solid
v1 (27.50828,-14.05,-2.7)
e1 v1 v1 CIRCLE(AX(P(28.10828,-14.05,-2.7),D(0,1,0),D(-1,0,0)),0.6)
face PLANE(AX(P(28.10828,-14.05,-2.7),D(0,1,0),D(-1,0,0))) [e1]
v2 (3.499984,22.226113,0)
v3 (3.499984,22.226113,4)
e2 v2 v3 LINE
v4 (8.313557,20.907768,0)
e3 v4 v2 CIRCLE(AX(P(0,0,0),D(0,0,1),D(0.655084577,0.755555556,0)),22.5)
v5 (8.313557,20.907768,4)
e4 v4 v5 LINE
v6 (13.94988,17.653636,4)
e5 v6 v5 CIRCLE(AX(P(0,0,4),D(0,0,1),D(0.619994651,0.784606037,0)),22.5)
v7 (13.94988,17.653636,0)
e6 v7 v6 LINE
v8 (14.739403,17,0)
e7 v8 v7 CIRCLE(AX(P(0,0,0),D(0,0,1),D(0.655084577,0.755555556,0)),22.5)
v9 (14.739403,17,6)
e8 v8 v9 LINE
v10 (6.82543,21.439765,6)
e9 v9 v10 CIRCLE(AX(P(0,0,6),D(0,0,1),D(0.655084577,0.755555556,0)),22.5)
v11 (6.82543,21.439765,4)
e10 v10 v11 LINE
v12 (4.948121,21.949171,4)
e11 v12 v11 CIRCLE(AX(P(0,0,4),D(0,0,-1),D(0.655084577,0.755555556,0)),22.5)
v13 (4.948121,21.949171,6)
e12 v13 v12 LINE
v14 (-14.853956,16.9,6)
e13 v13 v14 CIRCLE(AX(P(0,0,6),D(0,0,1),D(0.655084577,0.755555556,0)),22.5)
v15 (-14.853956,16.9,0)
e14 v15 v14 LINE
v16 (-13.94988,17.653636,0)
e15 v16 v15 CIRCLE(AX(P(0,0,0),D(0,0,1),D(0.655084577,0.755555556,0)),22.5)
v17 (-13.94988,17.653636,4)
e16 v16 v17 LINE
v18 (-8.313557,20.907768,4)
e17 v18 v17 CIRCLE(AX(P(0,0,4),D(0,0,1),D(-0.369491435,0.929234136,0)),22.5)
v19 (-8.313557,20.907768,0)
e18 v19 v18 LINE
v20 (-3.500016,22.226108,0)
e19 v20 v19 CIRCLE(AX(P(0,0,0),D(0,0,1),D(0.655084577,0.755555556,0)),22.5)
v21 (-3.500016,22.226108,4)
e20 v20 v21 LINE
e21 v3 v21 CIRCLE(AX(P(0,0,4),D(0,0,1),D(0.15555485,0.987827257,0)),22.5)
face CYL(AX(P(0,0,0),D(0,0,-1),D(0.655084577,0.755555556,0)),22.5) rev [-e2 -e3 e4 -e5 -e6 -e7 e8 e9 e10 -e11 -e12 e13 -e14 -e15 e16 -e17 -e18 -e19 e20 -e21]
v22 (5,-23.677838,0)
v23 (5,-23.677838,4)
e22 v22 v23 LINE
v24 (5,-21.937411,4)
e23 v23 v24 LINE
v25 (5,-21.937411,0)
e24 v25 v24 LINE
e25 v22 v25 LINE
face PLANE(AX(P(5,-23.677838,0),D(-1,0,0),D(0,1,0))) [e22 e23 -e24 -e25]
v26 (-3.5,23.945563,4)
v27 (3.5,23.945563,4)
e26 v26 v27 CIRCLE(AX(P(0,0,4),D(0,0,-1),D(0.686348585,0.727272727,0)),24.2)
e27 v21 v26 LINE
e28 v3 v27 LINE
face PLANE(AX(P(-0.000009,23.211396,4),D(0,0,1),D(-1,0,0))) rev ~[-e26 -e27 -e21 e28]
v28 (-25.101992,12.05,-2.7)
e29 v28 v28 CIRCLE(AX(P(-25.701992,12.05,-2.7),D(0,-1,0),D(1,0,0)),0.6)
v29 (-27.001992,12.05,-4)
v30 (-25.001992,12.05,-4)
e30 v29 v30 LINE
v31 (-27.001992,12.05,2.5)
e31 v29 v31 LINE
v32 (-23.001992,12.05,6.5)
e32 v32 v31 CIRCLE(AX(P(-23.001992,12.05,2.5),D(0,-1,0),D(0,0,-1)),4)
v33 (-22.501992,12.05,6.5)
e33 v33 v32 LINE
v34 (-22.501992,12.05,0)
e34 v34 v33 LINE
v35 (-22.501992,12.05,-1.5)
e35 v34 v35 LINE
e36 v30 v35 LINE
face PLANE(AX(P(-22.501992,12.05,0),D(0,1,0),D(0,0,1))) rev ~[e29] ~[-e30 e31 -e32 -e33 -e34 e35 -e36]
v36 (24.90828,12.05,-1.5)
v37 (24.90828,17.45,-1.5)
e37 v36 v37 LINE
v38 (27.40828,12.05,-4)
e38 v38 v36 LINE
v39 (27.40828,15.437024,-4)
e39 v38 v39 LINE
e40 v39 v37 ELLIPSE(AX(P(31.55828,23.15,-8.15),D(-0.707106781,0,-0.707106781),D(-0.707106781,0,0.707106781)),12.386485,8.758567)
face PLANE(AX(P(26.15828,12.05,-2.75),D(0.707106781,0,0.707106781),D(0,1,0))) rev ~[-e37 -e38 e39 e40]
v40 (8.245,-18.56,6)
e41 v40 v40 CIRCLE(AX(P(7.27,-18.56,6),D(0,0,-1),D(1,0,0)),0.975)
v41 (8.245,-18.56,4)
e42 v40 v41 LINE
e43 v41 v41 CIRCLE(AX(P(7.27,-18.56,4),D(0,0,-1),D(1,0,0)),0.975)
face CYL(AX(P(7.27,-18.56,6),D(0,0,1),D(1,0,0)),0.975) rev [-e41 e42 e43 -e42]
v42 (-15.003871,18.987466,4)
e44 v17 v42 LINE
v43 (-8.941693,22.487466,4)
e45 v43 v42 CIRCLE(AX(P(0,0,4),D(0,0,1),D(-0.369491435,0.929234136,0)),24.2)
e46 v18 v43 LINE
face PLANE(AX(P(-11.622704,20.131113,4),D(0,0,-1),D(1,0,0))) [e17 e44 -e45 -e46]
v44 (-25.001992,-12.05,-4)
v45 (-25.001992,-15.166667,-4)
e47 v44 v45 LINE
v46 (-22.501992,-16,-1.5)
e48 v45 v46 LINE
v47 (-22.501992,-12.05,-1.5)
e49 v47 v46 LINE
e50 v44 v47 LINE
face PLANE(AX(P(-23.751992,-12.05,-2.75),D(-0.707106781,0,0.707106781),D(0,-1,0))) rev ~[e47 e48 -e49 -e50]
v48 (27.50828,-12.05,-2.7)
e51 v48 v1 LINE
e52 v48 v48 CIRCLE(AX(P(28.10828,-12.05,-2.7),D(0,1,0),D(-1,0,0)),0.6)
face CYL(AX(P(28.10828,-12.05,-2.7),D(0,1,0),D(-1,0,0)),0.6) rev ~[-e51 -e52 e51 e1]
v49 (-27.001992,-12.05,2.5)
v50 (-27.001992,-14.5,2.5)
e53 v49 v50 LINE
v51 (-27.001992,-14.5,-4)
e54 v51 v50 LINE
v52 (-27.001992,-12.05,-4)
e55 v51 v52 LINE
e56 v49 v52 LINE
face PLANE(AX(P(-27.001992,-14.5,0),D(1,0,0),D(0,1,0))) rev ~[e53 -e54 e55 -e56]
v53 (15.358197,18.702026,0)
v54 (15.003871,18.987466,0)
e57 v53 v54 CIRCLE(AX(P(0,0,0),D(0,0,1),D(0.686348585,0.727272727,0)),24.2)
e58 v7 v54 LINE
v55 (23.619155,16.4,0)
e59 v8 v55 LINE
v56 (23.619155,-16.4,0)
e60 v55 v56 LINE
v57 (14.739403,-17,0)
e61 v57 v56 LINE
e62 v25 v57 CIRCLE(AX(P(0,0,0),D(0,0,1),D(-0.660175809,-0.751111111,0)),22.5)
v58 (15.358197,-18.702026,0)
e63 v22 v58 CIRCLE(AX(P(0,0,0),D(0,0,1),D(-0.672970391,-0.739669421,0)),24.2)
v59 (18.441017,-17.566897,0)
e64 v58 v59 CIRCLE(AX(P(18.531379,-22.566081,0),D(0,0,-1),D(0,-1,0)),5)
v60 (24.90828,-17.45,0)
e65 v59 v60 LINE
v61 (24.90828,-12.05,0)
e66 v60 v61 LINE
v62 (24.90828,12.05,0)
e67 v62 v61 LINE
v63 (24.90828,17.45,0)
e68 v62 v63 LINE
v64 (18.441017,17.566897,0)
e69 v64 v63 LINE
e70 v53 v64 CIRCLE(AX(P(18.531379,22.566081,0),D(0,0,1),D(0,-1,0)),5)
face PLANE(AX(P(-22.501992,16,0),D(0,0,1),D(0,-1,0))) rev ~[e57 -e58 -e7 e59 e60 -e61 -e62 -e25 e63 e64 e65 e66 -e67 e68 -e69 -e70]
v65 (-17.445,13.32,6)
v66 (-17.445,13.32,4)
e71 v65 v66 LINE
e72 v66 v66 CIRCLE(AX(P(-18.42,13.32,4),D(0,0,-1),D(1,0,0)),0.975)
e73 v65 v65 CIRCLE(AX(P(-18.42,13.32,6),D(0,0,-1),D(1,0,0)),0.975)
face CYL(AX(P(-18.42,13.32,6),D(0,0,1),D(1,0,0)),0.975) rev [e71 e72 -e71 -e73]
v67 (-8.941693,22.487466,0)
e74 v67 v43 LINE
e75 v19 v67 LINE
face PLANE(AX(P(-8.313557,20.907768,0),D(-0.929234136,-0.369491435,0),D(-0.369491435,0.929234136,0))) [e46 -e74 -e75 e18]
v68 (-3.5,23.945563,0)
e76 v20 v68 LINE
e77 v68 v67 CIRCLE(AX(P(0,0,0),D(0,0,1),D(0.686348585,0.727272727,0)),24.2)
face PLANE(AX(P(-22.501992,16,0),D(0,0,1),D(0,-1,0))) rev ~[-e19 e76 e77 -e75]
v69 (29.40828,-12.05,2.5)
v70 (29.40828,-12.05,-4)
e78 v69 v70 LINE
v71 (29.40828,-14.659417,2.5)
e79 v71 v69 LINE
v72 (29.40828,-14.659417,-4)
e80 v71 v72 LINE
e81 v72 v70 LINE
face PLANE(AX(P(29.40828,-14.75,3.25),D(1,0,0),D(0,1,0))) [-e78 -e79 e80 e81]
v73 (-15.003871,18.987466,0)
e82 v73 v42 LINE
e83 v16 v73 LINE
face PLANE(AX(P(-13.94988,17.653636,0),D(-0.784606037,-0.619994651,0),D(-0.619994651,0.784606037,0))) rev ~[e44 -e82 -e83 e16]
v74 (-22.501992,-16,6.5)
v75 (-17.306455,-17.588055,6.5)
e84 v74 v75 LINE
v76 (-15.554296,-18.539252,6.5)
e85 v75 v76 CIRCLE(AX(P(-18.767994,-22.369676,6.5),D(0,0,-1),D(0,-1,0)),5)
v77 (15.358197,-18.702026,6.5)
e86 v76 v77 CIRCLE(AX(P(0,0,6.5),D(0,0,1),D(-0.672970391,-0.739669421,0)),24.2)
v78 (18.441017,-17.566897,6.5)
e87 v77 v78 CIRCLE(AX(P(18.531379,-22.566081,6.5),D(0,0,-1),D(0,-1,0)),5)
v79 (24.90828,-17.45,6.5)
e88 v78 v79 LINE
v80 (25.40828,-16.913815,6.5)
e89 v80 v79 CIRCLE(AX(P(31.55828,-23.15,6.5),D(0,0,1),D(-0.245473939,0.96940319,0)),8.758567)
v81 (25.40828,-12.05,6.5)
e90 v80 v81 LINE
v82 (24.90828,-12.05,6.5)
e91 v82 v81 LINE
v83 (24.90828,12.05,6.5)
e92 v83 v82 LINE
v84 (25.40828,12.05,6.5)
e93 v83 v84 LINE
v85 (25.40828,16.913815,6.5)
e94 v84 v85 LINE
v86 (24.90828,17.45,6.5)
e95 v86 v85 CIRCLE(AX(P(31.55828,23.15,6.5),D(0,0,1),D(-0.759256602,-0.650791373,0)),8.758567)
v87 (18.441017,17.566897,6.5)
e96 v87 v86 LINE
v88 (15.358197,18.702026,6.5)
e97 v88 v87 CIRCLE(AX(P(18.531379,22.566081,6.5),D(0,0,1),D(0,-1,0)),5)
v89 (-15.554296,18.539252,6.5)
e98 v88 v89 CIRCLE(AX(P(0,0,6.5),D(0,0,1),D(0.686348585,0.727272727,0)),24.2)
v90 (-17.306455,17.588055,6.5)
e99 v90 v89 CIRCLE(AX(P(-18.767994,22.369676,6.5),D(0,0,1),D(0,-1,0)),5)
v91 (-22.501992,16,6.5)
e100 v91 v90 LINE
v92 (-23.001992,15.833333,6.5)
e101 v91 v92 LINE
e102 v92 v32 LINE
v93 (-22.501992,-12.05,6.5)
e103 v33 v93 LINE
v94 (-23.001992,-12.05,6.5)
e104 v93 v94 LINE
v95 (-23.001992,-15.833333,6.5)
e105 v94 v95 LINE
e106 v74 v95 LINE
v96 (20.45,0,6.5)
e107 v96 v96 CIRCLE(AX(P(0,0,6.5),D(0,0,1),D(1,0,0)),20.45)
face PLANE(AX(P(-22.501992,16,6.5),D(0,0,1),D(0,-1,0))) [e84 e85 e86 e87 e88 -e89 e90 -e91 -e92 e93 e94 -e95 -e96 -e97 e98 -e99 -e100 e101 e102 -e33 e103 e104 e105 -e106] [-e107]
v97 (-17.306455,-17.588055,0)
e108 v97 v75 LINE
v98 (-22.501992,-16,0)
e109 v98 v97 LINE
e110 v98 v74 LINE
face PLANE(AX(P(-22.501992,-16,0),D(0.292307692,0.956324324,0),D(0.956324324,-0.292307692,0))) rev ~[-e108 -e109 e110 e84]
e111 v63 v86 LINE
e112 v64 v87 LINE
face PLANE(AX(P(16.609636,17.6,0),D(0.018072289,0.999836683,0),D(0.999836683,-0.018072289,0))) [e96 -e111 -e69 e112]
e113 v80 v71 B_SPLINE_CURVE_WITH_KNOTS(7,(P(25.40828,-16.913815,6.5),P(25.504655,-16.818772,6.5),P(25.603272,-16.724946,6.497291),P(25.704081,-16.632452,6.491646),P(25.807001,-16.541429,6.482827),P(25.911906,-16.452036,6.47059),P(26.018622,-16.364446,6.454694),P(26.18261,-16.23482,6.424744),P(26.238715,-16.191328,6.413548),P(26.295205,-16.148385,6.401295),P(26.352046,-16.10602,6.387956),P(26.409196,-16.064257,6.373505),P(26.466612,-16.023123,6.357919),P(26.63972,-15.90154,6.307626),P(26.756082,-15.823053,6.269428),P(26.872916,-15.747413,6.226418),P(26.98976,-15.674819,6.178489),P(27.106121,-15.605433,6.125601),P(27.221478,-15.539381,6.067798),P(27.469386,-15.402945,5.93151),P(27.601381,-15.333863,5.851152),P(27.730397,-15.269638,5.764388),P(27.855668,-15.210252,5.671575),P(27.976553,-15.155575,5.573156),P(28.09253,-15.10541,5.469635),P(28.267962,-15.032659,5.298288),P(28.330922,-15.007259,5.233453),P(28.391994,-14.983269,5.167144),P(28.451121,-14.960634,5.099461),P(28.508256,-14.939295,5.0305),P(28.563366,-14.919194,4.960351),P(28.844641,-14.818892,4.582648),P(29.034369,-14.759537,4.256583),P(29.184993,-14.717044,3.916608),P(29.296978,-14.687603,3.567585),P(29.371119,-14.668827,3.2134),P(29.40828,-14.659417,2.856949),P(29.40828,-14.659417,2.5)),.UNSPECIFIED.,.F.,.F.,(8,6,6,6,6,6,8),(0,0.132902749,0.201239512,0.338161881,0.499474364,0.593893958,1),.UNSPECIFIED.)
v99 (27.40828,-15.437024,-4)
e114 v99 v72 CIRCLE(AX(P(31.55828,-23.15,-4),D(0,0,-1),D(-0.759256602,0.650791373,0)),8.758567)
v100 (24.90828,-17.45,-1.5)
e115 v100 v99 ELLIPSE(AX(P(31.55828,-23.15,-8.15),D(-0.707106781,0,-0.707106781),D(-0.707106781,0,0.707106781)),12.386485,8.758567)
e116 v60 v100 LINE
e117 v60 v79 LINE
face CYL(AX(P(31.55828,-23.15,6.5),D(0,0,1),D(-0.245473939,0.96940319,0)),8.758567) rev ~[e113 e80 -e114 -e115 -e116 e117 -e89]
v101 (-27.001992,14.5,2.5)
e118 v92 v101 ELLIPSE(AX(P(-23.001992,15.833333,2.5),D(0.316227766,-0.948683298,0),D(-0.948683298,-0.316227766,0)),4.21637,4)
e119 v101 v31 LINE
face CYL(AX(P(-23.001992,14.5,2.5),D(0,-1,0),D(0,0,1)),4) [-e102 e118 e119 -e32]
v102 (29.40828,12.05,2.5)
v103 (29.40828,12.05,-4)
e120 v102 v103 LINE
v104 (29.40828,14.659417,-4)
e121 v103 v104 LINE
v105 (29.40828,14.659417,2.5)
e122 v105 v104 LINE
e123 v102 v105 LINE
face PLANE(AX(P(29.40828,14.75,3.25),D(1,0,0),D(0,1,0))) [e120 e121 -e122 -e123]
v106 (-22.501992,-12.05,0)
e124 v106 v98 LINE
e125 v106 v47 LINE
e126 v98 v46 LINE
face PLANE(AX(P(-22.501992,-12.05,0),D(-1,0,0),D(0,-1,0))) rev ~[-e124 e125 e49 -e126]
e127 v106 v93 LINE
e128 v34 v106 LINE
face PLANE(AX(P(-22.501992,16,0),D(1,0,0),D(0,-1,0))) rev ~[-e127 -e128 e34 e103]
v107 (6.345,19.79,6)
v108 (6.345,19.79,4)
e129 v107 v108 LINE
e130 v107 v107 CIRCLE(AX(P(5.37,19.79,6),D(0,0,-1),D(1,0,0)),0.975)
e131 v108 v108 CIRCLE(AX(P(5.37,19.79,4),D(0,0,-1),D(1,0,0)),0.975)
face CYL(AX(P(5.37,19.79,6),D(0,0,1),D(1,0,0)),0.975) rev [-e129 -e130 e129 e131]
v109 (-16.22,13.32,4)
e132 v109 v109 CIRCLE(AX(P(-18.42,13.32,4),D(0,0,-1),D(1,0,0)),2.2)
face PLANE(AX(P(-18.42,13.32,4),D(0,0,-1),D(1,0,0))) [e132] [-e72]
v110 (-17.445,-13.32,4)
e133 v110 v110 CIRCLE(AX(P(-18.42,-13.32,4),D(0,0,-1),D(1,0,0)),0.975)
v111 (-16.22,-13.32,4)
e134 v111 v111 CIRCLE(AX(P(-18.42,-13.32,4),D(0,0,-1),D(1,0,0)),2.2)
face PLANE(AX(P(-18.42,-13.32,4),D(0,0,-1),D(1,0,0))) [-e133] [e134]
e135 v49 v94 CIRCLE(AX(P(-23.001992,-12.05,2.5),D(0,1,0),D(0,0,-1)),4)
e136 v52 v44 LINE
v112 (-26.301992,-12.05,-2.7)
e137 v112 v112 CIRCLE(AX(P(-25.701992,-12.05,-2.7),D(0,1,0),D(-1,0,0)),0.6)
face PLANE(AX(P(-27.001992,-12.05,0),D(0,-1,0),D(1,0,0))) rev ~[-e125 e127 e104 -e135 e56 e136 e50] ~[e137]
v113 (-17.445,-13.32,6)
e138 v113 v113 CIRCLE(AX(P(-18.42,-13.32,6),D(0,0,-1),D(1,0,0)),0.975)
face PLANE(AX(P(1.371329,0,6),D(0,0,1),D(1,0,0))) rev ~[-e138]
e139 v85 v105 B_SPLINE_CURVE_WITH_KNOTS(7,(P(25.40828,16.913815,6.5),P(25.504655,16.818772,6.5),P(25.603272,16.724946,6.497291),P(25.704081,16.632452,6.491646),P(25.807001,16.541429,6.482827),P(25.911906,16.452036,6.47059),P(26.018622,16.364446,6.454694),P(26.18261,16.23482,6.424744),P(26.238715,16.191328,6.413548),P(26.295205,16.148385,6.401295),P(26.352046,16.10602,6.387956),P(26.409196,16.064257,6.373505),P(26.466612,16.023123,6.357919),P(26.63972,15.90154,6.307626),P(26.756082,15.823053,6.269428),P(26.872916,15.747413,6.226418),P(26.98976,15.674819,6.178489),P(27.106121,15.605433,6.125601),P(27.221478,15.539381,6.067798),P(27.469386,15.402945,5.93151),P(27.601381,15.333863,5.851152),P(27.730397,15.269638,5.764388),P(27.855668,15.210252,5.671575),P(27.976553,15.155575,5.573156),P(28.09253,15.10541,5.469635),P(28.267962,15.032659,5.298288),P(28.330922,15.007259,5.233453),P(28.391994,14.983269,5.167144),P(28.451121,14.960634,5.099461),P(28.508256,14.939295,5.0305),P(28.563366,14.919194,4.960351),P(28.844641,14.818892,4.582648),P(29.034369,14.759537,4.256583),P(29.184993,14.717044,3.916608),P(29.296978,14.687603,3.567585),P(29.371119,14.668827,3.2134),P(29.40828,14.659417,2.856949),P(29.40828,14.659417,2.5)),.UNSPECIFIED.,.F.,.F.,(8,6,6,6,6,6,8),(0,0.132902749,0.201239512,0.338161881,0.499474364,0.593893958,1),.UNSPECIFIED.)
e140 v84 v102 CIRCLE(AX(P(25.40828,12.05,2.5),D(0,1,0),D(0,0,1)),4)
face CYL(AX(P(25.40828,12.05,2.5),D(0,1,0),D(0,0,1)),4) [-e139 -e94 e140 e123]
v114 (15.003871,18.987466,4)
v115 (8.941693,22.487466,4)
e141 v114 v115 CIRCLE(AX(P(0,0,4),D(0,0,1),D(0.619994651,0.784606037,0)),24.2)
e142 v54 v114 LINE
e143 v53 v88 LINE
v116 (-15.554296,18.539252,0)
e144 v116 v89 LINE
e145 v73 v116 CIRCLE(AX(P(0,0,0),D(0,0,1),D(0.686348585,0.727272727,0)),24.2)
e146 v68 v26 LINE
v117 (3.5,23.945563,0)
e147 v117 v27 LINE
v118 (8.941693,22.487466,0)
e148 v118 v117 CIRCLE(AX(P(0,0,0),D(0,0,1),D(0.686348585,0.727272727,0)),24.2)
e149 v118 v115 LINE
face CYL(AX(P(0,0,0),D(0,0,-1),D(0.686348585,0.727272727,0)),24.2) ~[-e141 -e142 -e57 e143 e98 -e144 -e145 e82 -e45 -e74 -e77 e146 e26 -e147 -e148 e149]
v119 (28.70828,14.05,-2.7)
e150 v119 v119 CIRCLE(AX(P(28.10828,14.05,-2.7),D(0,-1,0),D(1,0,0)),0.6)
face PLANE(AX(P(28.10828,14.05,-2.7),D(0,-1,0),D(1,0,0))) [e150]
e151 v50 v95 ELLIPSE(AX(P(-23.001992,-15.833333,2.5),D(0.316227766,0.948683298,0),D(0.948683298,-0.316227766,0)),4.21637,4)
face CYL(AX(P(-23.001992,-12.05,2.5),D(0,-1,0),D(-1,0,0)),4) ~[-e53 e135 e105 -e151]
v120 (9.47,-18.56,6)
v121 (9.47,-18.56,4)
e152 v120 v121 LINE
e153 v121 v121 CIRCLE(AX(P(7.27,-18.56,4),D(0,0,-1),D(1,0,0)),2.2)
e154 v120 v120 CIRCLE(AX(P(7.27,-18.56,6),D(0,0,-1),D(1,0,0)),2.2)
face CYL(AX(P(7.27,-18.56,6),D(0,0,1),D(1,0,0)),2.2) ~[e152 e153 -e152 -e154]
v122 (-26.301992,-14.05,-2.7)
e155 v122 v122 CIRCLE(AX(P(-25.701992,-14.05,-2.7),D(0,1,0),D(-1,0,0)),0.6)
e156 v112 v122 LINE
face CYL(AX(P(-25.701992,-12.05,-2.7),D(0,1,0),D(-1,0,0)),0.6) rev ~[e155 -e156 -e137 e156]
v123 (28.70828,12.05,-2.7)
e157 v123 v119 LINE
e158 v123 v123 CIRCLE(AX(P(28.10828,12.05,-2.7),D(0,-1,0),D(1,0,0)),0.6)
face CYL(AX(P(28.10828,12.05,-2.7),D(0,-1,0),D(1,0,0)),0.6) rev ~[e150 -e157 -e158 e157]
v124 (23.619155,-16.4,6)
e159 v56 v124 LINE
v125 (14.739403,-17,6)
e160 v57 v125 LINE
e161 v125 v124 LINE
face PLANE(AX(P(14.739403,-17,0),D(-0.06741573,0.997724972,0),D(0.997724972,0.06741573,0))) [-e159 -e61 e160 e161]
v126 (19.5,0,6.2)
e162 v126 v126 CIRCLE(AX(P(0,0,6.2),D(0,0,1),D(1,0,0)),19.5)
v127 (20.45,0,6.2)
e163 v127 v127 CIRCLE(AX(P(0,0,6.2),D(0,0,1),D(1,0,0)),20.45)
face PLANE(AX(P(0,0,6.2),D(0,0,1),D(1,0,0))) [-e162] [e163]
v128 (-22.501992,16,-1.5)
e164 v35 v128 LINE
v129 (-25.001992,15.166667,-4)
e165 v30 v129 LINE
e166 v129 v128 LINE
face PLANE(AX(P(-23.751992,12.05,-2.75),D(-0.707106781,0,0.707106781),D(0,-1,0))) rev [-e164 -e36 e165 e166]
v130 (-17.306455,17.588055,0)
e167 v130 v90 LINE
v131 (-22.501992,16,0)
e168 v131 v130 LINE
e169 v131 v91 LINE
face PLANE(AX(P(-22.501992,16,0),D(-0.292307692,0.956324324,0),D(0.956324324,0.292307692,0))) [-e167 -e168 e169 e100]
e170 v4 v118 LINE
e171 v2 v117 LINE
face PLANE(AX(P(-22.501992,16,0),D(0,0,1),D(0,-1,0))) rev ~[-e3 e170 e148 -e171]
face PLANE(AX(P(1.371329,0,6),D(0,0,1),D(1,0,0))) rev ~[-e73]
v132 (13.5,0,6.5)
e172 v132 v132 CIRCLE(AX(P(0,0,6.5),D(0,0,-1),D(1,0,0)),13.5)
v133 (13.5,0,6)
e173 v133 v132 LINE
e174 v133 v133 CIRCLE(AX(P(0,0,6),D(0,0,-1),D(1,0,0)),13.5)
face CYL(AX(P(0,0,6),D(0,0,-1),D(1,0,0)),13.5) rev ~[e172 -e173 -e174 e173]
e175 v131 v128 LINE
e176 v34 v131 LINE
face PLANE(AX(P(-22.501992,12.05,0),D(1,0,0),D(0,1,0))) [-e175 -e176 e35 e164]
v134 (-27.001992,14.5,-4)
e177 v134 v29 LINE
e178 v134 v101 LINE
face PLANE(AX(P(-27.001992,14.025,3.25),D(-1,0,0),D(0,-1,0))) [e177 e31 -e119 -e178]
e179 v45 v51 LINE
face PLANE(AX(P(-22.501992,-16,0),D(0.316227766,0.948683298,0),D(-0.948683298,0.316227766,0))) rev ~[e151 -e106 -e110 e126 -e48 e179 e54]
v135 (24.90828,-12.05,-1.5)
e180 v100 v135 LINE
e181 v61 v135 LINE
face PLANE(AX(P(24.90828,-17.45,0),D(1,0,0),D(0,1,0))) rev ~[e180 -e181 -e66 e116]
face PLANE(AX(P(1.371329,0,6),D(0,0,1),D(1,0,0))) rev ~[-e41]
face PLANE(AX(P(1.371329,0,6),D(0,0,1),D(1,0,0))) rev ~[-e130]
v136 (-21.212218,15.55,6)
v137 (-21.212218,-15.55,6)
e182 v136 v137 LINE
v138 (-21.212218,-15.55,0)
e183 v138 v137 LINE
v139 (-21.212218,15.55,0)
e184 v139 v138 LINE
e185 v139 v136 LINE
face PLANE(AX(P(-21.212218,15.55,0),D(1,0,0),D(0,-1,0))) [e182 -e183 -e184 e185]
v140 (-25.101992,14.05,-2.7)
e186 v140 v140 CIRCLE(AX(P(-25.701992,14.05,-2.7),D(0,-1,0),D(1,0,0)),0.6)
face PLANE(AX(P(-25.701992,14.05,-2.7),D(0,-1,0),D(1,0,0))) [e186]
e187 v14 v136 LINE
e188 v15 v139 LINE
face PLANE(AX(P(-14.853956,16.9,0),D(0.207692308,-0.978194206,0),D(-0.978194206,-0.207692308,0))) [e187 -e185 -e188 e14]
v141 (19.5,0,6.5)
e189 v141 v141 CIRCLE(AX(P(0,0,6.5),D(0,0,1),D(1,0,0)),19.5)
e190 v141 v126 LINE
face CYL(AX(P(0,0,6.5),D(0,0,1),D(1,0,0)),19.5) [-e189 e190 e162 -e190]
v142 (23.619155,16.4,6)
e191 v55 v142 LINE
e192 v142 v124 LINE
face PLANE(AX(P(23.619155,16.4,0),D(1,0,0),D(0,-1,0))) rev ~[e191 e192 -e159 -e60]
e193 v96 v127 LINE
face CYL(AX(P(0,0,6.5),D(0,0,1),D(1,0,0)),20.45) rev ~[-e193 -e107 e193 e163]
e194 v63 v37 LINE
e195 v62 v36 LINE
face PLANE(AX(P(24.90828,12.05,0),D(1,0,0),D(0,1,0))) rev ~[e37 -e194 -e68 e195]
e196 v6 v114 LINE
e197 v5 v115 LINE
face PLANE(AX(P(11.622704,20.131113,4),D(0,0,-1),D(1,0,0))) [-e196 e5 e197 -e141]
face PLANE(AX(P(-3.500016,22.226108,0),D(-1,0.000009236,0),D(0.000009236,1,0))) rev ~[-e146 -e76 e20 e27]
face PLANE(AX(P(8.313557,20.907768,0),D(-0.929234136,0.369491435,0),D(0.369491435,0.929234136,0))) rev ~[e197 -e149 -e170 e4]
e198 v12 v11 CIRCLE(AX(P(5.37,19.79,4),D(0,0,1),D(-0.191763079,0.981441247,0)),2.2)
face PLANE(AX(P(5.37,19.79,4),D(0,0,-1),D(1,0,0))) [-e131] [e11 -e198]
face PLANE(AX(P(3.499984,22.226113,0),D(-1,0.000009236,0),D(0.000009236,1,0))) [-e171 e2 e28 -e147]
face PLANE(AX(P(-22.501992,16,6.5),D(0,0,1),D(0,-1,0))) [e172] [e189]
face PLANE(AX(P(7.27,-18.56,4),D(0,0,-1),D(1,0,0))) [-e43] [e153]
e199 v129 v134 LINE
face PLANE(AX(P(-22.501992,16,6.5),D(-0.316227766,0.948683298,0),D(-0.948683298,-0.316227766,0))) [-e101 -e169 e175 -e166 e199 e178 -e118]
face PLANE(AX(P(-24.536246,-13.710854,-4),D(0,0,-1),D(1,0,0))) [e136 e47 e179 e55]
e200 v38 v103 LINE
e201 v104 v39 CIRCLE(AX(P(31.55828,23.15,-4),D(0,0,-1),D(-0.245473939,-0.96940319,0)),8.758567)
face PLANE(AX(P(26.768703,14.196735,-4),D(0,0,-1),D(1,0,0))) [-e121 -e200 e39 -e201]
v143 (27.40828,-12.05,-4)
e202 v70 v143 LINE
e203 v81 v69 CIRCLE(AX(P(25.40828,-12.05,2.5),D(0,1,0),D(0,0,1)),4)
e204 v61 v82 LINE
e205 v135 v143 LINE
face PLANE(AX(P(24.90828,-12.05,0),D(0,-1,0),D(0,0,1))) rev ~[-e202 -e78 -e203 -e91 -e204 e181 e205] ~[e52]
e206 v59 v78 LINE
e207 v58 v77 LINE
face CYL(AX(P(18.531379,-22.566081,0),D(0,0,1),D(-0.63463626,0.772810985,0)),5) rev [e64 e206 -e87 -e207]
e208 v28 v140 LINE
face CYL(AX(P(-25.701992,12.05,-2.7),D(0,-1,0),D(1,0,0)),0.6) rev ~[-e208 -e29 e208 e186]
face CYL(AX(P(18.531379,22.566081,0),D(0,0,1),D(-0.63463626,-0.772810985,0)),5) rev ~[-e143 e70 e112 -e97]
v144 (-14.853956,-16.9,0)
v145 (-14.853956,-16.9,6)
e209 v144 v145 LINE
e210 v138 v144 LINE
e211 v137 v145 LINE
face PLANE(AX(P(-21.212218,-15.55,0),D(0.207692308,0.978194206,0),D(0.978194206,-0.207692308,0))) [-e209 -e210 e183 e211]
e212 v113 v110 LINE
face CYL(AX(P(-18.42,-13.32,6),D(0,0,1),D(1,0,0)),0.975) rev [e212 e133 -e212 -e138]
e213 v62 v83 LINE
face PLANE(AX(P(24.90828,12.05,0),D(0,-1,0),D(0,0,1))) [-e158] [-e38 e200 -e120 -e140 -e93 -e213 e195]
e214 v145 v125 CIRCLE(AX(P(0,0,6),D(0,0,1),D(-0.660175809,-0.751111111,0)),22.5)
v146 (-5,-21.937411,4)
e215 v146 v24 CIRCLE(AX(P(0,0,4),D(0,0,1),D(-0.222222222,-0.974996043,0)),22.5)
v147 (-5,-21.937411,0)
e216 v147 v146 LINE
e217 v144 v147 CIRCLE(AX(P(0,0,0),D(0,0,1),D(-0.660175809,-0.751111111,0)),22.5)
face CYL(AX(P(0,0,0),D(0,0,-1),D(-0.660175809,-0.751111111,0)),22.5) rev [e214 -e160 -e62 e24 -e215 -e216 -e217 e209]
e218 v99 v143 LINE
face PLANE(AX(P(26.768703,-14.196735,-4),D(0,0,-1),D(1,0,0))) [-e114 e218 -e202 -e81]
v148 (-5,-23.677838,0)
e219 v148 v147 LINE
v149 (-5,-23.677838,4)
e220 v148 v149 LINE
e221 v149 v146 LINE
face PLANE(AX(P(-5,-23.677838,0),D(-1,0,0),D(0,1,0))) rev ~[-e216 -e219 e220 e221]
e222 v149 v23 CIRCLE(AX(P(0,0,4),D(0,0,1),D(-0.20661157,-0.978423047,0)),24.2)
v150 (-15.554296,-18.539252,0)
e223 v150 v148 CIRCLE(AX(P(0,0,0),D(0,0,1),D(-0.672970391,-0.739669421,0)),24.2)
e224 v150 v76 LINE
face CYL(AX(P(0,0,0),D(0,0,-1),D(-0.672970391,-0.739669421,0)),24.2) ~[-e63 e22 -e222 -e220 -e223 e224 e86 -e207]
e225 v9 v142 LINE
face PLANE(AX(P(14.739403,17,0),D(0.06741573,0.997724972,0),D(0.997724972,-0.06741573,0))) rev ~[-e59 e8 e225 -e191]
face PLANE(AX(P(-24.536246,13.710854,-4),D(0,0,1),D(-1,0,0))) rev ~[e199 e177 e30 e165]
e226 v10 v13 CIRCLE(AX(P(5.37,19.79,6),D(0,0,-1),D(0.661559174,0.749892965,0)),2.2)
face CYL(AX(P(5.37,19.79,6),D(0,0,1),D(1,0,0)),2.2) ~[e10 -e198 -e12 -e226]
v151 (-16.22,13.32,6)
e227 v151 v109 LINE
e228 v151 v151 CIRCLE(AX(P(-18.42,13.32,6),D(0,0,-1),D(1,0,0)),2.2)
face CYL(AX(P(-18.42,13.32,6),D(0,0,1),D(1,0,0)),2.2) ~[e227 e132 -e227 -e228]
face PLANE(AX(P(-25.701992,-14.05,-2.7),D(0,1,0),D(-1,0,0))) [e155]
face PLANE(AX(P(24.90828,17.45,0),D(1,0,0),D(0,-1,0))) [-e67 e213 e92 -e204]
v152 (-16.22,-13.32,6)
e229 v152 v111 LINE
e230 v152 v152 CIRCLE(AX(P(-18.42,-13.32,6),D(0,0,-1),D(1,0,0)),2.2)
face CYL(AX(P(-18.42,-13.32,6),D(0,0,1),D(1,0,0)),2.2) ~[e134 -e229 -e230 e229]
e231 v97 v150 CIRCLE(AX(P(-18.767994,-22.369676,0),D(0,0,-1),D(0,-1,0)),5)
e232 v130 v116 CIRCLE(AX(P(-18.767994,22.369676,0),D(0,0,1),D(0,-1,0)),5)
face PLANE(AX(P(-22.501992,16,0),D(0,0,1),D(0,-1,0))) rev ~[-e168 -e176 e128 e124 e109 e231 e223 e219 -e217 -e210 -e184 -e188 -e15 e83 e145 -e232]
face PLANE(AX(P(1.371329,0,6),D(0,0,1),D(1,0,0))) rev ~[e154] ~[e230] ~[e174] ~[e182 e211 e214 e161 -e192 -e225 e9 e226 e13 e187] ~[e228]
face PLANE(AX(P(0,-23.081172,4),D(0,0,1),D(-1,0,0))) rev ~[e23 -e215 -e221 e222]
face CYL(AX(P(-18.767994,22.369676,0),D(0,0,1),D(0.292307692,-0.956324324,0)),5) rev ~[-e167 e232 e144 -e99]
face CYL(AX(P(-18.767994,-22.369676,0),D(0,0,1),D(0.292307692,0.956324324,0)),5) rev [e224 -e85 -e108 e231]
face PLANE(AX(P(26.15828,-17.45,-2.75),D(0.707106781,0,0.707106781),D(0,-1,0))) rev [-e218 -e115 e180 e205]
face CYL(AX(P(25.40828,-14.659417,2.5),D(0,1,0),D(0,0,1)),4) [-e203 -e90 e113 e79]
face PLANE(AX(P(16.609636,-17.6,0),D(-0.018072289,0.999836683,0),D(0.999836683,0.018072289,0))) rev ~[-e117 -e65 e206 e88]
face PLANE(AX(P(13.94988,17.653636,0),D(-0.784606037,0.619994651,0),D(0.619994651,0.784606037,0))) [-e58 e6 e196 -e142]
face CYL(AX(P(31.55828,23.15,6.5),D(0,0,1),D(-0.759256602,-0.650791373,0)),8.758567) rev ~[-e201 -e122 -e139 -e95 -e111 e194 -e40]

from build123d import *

# Parameters (mm, degrees)
PAD_DEPTH       = 6.5
POCKET_DEPTH    = 6
SKETCH002_R     = 13.5
POCKET001_DEPTH = 1
SKETCH003_W     = 5.4
SKETCH003_H     = 6.5
PAD001_DEPTH    = 4.5
POCKET002_DEPTH = 10
SKETCH010_W     = 3.95
SKETCH010_H     = 6.5
PAD002_DEPTH    = 4.5
POCKET005_DEPTH = 10
SKETCH014_R     = 20.45
SKETCH014_R_2   = 19.5
POCKET008_DEPTH = 0.3
SKETCH015_R     = 2.2
SKETCH015_R_2   = 0.975
PAD003_DEPTH    = 2
POCKET009_DEPTH = 4
POCKET010_DEPTH = 4
PAD004_DEPTH    = 4
SKETCH019_R     = 0.6
POCKET011_DEPTH = 2
SKETCH020_R     = 0.6
POCKET012_DEPTH = 2
FILLET_R        = 4
CHAMFER_SIZE    = 2.5
FILLET001_R     = 5


with BuildPart() as part:
    # Sketch → Pad (new body)
    with BuildSketch(Plane.XY):
        with BuildLine():
            Line((-22.5019915649, 16), (-22.5019915649, -16))
            Line((-22.5019915649, -16), (-16.2858834577, -17.9000000001))
            ThreePointArc((-16.2858834577, -17.9000000001), (0.2206895737, -24.1989937004), (16.6096357576, -17.5999999999))
            Line((16.6096357576, -17.5999999999), (24.9082802252, -17.45))
            Line((24.9082802252, 17.45), (24.9082802252, -17.45))
            Line((16.6096357576, 17.6), (24.9082802252, 17.45))
            ThreePointArc((16.6096357576, 17.6), (0.2206895736, 24.1989937004), (-16.2858834578, 17.9))
            Line((-22.5019915649, 16), (-16.2858834578, 17.9))
        make_face()
    extrude(amount=PAD_DEPTH)

    # Sketch001 → Pocket (cut)
    with BuildSketch(Plane.XY):
        with BuildLine():
            Line((-14.8539557021, 16.9), (-21.2122180433, 15.55))
            Line((-21.2122180433, 15.55), (-21.2122180433, -15.55))
            Line((-21.2122180433, -15.55), (-14.8539557021, -16.9))
            ThreePointArc((-14.8539557021, -16.9), (-0.0760301383, -22.4998715423), (14.739402973, -17))
            Line((14.739402973, -17), (23.6191552218, -16.4))
            Line((23.6191552218, 16.4), (23.6191552218, -16.4))
            Line((14.739402973, 17), (23.6191552218, 16.4))
            ThreePointArc((14.739402973, 17), (-0.0760301383, 22.4998715423), (-14.8539557021, 16.9))
        make_face()
    extrude(amount=POCKET_DEPTH, mode=Mode.SUBTRACT)

    # Sketch002 (on Face19 of Pocket) → Pocket001 (cut)
    with BuildSketch(Plane(origin=(0, 0, 6), x_dir=(1, 0, 0), z_dir=(0, 0, -1))):
        Circle(SKETCH002_R)
    extrude(amount=-POCKET001_DEPTH, mode=Mode.SUBTRACT)

    # Sketch003 (on Face7 of Pad) → Pad001 (join)
    with BuildSketch(Plane.YZ.offset(24.9082802252)):
        with Locations((-14.75, 3.25)):
            Rectangle(SKETCH003_W, SKETCH003_H)
        with Locations((14.75, 3.25)):
            Rectangle(SKETCH003_W, SKETCH003_H)
    extrude(amount=PAD001_DEPTH)

    # Sketch006 (on Face22 of Pad001) → Pocket002 (cut)
    with BuildSketch(Plane.XY.offset(6.5)):
        with BuildLine():
            ThreePointArc((24.9082802252, 17.45), (26.9423471239, 15.7065020586), (29.4082802252, 14.6594169811))
            Line((29.4082802252, 17.45), (29.4082802252, 14.6594169811))
            Line((29.4082802252, 17.45), (24.9082802252, 17.45))
        make_face()
        with BuildLine():
            ThreePointArc((29.4082802252, -14.6594169811), (26.9423471239, -15.7065020586), (24.9082802252, -17.45))
            Line((29.4082802252, -17.45), (24.9082802252, -17.45))
            Line((29.4082802252, -14.6594169811), (29.4082802252, -17.45))
        make_face()
    extrude(amount=-POCKET002_DEPTH, mode=Mode.SUBTRACT)

    # Sketch010 (on Face3 of Pad) → Pad002 (join)
    with BuildSketch(Plane(origin=(-22.5019915649, 0, 0), x_dir=(0, -1, 0), z_dir=(-1, 0, 0))):
        with Locations((-14.025, 3.25)):
            Rectangle(SKETCH010_W, SKETCH010_H)
        with Locations((14.025, 3.25)):
            Rectangle(SKETCH010_W, SKETCH010_H)
    extrude(amount=PAD002_DEPTH)

    # Sketch011 (on Face28 of Pad002) → Pocket005 (cut)
    with BuildSketch(Plane.XY.offset(6.5)):
        Polygon((-27.0019915649, 16), (-22.5019915649, 16), (-27.0019915649, 14.5), align=None)
        Polygon((-22.5019915649, -16), (-27.0019915649, -14.5), (-27.0019915649, -16), align=None)
    extrude(amount=-POCKET005_DEPTH, mode=Mode.SUBTRACT)

    # Sketch014 (on Face10 of Pad) → Pocket008 (cut)
    with BuildSketch(Plane.XY.offset(6.5)):
        Circle(SKETCH014_R)
        Circle(SKETCH014_R_2, mode=Mode.SUBTRACT)
    extrude(amount=-POCKET008_DEPTH, mode=Mode.SUBTRACT)

    # Sketch015 (on Face19 of Pocket) → Pad003 (join)
    with BuildSketch(Plane(origin=(0, 0, 6), x_dir=(1, 0, 0), z_dir=(0, 0, -1))):
        with Locations((-18.42, 13.32)):
            Circle(SKETCH015_R)
        with Locations((-18.42, 13.32)):
            Circle(SKETCH015_R_2, mode=Mode.SUBTRACT)
        with Locations((7.27, 18.56)):
            Circle(SKETCH015_R)
        with Locations((7.27, 18.56)):
            Circle(SKETCH015_R_2, mode=Mode.SUBTRACT)
        with Locations((5.37, -19.79)):
            Circle(SKETCH015_R)
        with Locations((5.37, -19.79)):
            Circle(SKETCH015_R_2, mode=Mode.SUBTRACT)
        with Locations((-18.42, -13.32)):
            Circle(SKETCH015_R)
        with Locations((-18.42, -13.32)):
            Circle(SKETCH015_R_2, mode=Mode.SUBTRACT)
    extrude(amount=PAD003_DEPTH)

    # Sketch016 → Pocket009 (cut)
    with BuildSketch(Plane(origin=(0, 0, 0), x_dir=(-1, 0, 0), z_dir=(0, 0, 1))):
        with BuildLine():
            Line((-5, 23.6778377391), (-5, 21.9374109685))
            ThreePointArc((5, 21.9374109685), (0, 22.5), (-5, 21.9374109685))
            Line((5, 23.6778377391), (5, 21.9374109685))
            ThreePointArc((5, 23.6778377391), (0, 24.2), (-5, 23.6778377391))
        make_face()
    extrude(amount=POCKET009_DEPTH, mode=Mode.SUBTRACT)

    # Sketch017 → Pocket010 (cut)
    with BuildSketch(Plane(origin=(0, 0, 0), x_dir=(-1, 0, 0), z_dir=(0, 0, 1))):
        with BuildLine():
            Line((-3.499984119, -22.2261132717), (-3.5, -23.9455632634))
            ThreePointArc((-3.5, -23.9455632634), (0, -24.2000019575), (3.5, -23.9455632634))
            Line((3.5000158811, -22.2261082701), (3.5, -23.9455632634))
            ThreePointArc((-3.499984119, -22.2261132717), (1.60767e-05, -22.5), (3.5000158811, -22.2261082701))
        make_face()
        with BuildLine():
            ThreePointArc((-13.9498796389, -17.6536358312), (-11.25, -19.4855715851), (-8.3135572795, -20.9077680626))
            Line((-8.3135572795, -20.9077680626), (-8.9416927184, -22.487466094))
            ThreePointArc((-15.0038705449, -18.987466094), (-12.1, -20.9578147716), (-8.9416927184, -22.487466094))
            Line((-13.9498796389, -17.6536358312), (-15.0038705449, -18.987466094))
        make_face()
        with BuildLine():
            ThreePointArc((8.3135572795, -20.9077680626), (11.25, -19.4855715851), (13.9498796389, -17.6536358312))
            Line((13.9498796389, -17.6536358312), (15.0038705449, -18.987466094))
            ThreePointArc((8.9416927184, -22.487466094), (12.1, -20.9578147716), (15.0038705449, -18.987466094))
            Line((8.3135572795, -20.9077680626), (8.9416927184, -22.487466094))
        make_face()
    extrude(amount=POCKET010_DEPTH, mode=Mode.SUBTRACT)

    # Sketch018 (on Face8 of Pocket005) → Pad004 (join)
    with BuildSketch(Plane(origin=(0, 0, 0), x_dir=(1, 0, 0), z_dir=(0, 0, -1))):
        Polygon((-27.0019915649, 14.5), (-27.0019915649, 12.05), (-22.5019915649, 12.05), (-22.5019915649, 16), align=None)
        Polygon((-27.0019915649, -12.05), (-22.5019915649, -12.05), (-22.5019915649, -16), (-27.0019915649, -14.5), align=None)
        with BuildLine():
            Line((24.9082802252, 17.45), (24.9082802252, 12.05))
            Line((29.4082802252, 12.05), (24.9082802252, 12.05))
            Line((29.4082802252, 14.6594169811), (29.4082802252, 12.05))
            ThreePointArc((24.9082802252, 17.45), (26.9423471239, 15.7065020586), (29.4082802252, 14.6594169811))
        make_face()
        with BuildLine():
            Line((24.9082802252, -12.05), (24.9082802252, -17.45))
            ThreePointArc((29.4082802252, -14.6594169811), (26.9423471239, -15.7065020586), (24.9082802252, -17.45))
            Line((29.4082802252, -12.05), (29.4082802252, -14.6594169811))
            Line((24.9082802252, -12.05), (29.4082802252, -12.05))
        make_face()
    extrude(amount=PAD004_DEPTH)

    # Sketch019 (on Face64 of Pad004) → Pocket011 (cut)
    with BuildSketch(Plane.XZ.offset(-12.05)):
        with Locations((28.1082802252, -2.7)):
            Circle(SKETCH019_R)
        with Locations((-25.7019915649, -2.7)):
            Circle(SKETCH019_R)
    extrude(amount=-POCKET011_DEPTH, mode=Mode.SUBTRACT)

    # Sketch020 (on Face50 of Pocket011) → Pocket012 (cut)
    with BuildSketch(Plane(origin=(0, -12.05, 0), x_dir=(-1, 0, 0), z_dir=(0, 1, 0))):
        with Locations((-28.1082802252, -2.7)):
            Circle(SKETCH020_R)
        with Locations((25.7019915649, -2.7)):
            Circle(SKETCH020_R)
    extrude(amount=-POCKET012_DEPTH, mode=Mode.SUBTRACT)

    # Fillet
    fillet_edges = [part.edges().sort_by_distance(p)[0] for p in [
        (29.40828, -13.354708, 6.5),
        (29.40828, 13.354708, 6.5),
        (-27.001992, -13.275, 6.5),
        (-27.001992, 13.275, 6.5),
    ]]
    fillet(fillet_edges, radius=FILLET_R)

    # Chamfer
    chamfer_edges = [part.edges().sort_by_distance(p)[0] for p in [
        (24.90828, -14.75, -4),
        (24.90828, 14.75, -4),
        (-22.501992, -14.025, -4),
        (-22.501992, 14.025, -4),
    ]]
    chamfer(chamfer_edges, length=CHAMFER_SIZE)

    # Fillet001
    fillet001_edges = [part.edges().sort_by_distance(p)[0] for p in [
        (16.609636, -17.6, 3.25),
        (-16.285883, -17.9, 3.25),
        (16.609636, 17.6, 3.25),
        (-16.285883, 17.9, 3.25),
    ]]
    fillet(fillet001_edges, radius=FILLET001_R)


solid = part.part
